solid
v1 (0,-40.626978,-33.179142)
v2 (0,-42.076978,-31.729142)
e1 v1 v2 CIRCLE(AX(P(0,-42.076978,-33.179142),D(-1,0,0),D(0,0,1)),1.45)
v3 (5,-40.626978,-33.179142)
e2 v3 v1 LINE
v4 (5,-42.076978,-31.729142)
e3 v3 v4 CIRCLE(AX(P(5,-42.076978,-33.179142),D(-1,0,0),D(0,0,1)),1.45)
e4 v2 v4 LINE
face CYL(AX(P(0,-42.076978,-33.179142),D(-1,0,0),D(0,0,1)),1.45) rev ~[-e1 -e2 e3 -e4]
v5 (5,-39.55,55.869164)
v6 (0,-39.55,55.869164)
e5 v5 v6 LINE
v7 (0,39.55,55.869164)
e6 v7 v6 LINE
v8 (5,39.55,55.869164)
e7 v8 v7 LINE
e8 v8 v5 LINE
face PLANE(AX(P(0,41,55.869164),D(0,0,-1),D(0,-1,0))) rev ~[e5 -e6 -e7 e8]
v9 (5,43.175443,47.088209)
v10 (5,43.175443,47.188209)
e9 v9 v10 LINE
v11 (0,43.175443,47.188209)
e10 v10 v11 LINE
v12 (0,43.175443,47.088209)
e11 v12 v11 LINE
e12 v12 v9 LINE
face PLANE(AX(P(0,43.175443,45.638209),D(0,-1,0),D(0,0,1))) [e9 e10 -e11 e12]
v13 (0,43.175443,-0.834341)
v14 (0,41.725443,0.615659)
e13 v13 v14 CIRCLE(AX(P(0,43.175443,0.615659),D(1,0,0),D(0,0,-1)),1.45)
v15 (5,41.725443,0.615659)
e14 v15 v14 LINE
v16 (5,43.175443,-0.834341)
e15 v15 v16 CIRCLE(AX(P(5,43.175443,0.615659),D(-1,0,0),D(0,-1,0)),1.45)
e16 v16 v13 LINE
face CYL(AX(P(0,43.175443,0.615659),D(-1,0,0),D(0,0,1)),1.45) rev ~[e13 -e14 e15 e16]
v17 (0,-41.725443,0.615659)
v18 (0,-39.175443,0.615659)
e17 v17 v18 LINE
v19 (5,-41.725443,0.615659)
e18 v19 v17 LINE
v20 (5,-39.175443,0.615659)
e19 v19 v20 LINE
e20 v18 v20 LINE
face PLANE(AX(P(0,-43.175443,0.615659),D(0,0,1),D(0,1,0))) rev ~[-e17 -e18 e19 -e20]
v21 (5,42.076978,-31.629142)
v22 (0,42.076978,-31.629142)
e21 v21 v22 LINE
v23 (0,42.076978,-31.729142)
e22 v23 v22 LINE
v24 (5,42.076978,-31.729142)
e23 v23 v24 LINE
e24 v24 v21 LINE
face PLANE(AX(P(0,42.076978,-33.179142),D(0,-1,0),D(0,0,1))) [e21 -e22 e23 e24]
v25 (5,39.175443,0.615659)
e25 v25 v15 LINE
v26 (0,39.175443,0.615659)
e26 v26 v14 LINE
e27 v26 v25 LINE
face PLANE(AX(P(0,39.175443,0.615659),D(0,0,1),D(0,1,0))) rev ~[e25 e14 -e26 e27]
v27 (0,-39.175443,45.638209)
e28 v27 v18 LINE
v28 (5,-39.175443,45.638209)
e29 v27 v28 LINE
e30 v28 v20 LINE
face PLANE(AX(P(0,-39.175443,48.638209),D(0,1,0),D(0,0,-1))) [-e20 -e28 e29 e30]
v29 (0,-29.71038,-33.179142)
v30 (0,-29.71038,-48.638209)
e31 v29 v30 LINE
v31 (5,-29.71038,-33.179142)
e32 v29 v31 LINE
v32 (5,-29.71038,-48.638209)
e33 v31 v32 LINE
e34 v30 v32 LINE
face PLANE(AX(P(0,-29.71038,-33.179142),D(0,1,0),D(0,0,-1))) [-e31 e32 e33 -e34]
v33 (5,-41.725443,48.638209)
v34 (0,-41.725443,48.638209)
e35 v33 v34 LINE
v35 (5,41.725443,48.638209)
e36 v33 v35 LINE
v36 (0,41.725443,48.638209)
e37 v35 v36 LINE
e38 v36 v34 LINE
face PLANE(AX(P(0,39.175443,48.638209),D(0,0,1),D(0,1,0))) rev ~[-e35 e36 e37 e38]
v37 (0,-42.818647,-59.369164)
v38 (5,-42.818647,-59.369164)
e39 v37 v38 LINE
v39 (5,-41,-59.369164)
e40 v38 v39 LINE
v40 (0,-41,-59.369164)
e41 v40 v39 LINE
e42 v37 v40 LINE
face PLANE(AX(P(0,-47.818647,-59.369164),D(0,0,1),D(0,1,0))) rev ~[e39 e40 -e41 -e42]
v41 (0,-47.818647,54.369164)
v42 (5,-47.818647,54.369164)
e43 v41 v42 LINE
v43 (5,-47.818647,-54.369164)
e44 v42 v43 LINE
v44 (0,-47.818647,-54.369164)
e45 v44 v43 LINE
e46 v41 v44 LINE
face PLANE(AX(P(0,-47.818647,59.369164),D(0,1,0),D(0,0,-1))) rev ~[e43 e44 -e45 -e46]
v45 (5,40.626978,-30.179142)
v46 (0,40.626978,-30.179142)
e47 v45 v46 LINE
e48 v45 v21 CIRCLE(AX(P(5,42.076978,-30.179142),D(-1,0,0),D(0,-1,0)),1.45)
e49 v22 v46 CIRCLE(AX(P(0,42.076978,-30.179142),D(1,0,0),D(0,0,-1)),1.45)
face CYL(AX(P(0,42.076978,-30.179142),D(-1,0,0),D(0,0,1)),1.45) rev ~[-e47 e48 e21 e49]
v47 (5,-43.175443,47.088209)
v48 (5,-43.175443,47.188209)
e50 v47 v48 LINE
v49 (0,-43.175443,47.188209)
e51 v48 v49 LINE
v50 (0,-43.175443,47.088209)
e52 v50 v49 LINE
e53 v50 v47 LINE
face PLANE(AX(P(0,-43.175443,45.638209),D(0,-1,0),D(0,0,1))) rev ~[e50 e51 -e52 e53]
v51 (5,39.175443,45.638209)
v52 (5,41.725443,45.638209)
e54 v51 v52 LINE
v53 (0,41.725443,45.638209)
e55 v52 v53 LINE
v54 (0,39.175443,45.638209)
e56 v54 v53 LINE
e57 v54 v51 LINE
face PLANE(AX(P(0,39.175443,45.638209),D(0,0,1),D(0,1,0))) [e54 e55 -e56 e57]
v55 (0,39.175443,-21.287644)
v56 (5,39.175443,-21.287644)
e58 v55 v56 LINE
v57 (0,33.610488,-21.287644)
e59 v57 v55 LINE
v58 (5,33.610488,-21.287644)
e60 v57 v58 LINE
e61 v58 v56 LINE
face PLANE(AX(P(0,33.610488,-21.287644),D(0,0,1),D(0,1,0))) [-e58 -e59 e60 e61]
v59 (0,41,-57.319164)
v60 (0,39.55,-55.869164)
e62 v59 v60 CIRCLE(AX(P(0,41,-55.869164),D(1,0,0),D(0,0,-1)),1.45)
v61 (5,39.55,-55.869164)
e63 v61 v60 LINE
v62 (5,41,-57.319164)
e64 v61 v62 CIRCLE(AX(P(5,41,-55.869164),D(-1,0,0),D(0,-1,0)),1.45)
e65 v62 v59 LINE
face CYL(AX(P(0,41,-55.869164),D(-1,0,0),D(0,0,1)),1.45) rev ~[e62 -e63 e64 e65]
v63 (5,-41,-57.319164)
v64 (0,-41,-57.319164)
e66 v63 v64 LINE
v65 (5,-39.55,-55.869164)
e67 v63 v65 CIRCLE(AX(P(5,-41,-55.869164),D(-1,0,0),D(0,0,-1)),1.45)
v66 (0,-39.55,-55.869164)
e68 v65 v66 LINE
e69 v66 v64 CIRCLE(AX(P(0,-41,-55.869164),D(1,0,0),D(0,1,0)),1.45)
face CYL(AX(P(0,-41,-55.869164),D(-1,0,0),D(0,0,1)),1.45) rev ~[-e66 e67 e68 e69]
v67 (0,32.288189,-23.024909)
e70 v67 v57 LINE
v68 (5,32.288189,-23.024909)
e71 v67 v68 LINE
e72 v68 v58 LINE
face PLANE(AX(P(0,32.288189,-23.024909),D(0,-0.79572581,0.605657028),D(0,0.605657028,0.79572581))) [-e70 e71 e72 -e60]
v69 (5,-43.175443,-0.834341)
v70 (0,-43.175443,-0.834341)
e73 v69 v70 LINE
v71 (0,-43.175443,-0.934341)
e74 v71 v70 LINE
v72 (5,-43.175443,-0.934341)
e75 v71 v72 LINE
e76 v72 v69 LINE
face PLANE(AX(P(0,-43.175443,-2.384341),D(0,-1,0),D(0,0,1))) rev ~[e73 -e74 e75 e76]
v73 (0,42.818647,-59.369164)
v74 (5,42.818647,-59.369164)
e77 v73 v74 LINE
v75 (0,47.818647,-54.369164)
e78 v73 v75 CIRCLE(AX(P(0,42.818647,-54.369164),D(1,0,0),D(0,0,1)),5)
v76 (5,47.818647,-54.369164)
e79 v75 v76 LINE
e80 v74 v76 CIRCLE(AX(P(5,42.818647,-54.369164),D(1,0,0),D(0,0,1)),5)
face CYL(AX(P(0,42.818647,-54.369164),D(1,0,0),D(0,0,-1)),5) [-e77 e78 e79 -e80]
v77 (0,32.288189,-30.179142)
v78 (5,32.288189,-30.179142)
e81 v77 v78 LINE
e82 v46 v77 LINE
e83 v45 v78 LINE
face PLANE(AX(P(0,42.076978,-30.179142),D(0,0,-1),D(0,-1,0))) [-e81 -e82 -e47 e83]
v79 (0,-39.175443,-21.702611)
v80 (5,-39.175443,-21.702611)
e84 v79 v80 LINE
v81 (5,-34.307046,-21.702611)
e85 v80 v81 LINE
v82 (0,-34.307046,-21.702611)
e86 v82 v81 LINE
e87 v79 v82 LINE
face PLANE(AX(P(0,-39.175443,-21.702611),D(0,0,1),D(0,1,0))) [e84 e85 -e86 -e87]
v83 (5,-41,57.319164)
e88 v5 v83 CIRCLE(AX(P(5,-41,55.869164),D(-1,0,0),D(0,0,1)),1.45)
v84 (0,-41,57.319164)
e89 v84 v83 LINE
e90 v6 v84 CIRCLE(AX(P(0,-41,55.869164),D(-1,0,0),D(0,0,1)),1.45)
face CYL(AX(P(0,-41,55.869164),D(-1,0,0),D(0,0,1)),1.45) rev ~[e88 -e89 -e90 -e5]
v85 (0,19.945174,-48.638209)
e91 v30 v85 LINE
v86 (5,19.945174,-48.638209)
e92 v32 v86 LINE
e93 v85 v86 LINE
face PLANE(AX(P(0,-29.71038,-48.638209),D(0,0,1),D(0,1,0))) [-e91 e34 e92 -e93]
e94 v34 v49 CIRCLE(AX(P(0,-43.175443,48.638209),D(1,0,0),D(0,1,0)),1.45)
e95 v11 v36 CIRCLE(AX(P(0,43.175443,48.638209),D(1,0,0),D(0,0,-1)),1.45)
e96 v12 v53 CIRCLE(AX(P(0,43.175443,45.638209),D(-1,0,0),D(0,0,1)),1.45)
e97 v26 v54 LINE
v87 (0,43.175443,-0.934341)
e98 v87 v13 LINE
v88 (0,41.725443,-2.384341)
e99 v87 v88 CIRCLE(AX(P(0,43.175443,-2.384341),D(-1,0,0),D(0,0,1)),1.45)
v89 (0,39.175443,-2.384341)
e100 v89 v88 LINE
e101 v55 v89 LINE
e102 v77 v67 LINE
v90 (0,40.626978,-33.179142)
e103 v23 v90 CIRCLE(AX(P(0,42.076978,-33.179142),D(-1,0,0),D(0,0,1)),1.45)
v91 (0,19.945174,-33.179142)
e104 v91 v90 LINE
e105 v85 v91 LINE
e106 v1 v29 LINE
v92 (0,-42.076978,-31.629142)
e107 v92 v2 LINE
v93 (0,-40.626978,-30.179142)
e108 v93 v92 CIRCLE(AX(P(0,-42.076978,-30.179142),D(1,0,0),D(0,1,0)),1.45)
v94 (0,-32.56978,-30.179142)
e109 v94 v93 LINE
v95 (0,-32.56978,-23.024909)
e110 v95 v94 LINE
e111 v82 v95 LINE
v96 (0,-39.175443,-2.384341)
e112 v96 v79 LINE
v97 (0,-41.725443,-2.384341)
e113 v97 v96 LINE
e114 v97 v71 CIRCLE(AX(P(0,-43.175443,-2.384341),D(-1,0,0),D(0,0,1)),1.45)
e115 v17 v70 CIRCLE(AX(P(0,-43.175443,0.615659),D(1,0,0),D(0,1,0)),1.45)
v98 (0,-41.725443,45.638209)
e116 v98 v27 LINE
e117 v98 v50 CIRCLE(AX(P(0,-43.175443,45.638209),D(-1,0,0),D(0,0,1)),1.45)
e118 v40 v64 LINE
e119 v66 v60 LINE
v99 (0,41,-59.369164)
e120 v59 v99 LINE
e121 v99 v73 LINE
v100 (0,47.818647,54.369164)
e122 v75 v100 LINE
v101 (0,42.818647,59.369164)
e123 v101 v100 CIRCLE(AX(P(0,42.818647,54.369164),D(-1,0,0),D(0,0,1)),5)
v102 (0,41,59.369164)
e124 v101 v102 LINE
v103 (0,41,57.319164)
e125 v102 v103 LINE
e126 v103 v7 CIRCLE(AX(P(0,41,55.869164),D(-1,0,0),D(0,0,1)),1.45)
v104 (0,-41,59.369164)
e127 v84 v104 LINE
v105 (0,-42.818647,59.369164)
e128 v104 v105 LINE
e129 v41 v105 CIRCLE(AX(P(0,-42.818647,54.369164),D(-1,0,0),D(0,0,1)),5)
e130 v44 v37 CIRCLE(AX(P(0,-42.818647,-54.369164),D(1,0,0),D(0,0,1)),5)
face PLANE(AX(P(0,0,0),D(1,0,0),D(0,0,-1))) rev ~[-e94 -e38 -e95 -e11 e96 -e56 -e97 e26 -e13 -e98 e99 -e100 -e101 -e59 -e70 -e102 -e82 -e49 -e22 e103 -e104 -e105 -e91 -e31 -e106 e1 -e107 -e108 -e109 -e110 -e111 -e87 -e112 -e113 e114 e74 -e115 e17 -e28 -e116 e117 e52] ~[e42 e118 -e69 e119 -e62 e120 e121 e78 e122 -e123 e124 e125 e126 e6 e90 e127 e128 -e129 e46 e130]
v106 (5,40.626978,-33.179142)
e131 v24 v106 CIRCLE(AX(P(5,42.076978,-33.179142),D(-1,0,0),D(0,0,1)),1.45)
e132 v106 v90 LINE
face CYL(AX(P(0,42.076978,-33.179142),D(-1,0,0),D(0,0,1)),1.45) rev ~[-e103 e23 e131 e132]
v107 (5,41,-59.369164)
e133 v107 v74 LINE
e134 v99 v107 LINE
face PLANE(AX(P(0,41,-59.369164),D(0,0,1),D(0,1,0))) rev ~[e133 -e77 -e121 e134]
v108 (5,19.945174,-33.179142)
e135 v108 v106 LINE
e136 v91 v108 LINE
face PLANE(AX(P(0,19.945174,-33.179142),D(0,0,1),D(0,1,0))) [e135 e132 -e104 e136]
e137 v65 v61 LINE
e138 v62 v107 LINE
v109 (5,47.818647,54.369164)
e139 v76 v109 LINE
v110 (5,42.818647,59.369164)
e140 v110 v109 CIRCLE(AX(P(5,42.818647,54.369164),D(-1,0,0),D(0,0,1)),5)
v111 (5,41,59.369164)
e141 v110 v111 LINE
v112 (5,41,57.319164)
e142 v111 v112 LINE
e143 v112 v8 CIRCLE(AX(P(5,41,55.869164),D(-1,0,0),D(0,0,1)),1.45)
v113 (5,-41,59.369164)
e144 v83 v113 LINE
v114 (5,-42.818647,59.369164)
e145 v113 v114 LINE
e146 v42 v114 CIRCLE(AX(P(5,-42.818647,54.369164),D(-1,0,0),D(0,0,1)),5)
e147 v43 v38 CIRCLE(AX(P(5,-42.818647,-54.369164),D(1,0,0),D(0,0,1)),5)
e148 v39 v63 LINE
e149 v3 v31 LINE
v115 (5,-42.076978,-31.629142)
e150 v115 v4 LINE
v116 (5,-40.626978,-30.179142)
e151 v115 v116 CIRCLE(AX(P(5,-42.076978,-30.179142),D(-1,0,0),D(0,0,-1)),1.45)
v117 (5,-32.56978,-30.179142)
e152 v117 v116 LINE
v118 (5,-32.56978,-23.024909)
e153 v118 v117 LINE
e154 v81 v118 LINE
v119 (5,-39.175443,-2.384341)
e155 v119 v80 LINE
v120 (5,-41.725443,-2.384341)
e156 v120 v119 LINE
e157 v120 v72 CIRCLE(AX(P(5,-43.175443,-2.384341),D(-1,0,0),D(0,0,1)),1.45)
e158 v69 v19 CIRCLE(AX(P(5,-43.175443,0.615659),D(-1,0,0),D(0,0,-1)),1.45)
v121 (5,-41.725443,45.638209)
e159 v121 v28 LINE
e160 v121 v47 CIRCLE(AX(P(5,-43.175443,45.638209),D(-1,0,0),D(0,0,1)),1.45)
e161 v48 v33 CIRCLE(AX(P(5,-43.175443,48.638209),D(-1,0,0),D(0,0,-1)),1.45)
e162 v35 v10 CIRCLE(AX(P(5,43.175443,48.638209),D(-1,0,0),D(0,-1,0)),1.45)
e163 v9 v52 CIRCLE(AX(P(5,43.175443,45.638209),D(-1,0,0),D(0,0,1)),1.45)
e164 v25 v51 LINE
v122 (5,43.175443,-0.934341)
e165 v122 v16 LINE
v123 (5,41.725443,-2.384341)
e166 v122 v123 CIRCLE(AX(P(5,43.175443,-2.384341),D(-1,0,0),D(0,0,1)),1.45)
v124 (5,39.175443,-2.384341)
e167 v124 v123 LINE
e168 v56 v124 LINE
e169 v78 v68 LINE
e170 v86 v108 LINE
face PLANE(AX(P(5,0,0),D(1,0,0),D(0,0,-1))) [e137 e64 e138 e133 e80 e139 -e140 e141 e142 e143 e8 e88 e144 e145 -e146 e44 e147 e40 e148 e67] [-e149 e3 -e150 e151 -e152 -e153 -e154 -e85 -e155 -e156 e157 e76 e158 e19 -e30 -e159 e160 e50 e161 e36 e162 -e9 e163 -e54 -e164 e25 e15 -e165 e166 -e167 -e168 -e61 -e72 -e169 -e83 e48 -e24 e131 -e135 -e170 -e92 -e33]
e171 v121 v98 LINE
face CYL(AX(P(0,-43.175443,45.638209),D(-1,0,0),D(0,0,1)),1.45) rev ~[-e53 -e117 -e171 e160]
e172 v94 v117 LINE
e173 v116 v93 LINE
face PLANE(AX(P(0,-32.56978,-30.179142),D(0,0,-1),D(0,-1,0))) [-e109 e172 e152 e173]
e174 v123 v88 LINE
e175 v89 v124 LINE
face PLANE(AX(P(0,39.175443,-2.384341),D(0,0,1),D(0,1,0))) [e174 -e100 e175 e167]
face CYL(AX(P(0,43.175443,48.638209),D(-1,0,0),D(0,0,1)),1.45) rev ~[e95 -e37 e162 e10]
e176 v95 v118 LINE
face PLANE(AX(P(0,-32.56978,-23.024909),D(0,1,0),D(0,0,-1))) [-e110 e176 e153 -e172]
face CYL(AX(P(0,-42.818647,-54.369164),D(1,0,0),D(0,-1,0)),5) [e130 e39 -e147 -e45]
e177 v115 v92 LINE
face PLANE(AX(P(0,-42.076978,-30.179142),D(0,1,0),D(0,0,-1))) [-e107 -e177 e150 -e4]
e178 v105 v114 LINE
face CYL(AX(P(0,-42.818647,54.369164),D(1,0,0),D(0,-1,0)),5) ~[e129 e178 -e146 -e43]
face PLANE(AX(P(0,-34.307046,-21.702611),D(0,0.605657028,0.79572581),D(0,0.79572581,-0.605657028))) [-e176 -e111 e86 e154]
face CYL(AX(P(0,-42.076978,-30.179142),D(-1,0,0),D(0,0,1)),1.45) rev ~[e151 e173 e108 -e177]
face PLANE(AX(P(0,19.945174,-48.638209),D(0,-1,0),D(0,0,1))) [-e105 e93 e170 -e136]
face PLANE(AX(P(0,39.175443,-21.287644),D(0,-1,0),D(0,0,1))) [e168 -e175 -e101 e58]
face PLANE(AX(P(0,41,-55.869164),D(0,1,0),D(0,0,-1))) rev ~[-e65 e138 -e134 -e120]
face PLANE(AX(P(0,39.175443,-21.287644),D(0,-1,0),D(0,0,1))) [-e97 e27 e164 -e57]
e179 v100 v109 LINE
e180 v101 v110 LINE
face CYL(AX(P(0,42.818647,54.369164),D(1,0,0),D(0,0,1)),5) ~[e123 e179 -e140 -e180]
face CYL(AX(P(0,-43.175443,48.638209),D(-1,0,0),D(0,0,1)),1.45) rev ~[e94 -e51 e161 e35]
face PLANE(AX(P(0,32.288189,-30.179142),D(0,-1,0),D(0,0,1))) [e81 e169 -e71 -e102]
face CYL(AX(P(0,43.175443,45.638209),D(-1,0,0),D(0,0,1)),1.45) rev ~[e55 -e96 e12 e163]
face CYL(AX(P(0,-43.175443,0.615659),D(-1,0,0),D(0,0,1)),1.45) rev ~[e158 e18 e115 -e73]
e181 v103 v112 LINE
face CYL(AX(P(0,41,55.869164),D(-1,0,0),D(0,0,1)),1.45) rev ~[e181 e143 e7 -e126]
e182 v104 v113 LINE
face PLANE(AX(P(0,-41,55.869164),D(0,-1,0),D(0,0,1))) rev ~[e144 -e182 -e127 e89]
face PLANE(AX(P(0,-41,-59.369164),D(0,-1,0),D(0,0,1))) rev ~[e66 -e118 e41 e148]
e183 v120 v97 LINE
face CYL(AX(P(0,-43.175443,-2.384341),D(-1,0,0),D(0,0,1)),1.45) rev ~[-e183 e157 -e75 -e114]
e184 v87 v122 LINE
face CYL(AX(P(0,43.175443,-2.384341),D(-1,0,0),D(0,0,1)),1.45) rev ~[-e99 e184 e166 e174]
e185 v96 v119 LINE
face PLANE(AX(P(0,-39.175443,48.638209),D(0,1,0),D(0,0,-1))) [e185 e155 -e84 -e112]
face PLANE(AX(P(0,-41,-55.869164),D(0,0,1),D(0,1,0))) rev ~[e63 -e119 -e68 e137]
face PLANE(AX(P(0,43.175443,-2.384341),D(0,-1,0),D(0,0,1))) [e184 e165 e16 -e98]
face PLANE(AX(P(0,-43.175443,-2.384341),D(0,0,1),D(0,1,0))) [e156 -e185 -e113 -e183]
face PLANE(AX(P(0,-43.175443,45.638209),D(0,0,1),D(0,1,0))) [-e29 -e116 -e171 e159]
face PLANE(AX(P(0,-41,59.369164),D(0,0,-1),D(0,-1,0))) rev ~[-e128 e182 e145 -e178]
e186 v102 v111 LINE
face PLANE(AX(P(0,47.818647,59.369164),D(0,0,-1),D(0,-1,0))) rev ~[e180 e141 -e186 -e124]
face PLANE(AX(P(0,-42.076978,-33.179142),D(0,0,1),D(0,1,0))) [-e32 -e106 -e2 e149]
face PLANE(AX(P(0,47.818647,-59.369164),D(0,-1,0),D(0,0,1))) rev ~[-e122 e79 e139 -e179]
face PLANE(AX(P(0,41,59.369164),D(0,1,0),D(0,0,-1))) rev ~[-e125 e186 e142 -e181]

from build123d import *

# Parameters (mm, degrees)
BOSS_EXTRUDE1_DEPTH = 5
FILLET1_R           = 5
CUT_EXTRUDE1_REACH  = 7
SKETCH2_W           = 3
SKETCH2_H           = 4
CUT_EXTRUDE2_REACH  = 7
SKETCH3_R           = 1.45


with BuildPart() as part:
    # Sketch1 → Boss-Extrude1 (new body)
    with BuildSketch(Plane(origin=(0, 0, 0), x_dir=(0, 0, -1), z_dir=(1, 0, 0))):
        Polygon((-59.36916415, -47.818646587), (0, -47.818646587), (59.36916415, -47.818646587), (59.36916415, -41), (55.86916415, -41), (55.86916415, 41), (59.36916415, 41), (59.36916415, 47.818646587), (-59.36916415, 47.818646587), (-59.36916415, 41), (-55.86916415, 41), (-55.86916415, -41), (-59.36916415, -41), align=None)
        Polygon((21.702610628, -39.175443067), (21.702610628, -34.307045578), (23.024909313, -32.569779859), (30.179141539, -32.569779859), (30.179141539, -42.076978078), (33.179141539, -42.076978078), (33.179141539, -29.710380013), (48.63820865, -29.710380013), (48.63820865, 19.945173818), (33.179141539, 19.945173818), (33.179141539, 42.076978078), (30.179141539, 42.076978078), (30.179141539, 32.288188968), (23.024909313, 32.288188968), (21.287643594, 33.610487654), (21.287643594, 39.175443067), (-48.63820865, 39.175443067), (-48.63820865, -39.175443067), align=None, mode=Mode.SUBTRACT)
    extrude(amount=BOSS_EXTRUDE1_DEPTH)

    # Fillet1
    fillet1_edges = [part.edges().sort_by_distance(p)[0] for p in [
        (2.5, -47.818646587, -59.36916415),
        (2.5, -47.818646587, 59.36916415),
        (2.5, 47.818646587, 59.36916415),
        (2.5, 47.818646587, -59.36916415),
    ]]
    fillet(fillet1_edges, radius=FILLET1_R)

    # Sketch2 → Cut-Extrude1 (cut, up to next)
    with BuildSketch(Plane.ZY, mode=Mode.PRIVATE) as cut_extrude1_sk1:
        with Locations((47.13820865, 41.175443067)):
            Rectangle(SKETCH2_W, SKETCH2_H)
    cut_extrude1_tool1 = extrude(cut_extrude1_sk1.sketch, amount=-CUT_EXTRUDE1_REACH, mode=Mode.PRIVATE) & part.part
    add(cut_extrude1_tool1.solids().sort_by_distance((0, 41.175443, 47.138209))[0], mode=Mode.SUBTRACT)
    # Sketch2 → Cut-Extrude1 (cut, up to next)
    with BuildSketch(Plane.ZY, mode=Mode.PRIVATE) as cut_extrude1_sk2:
        with Locations((47.13820865, -41.175443067)):
            Rectangle(SKETCH2_W, SKETCH2_H)
    cut_extrude1_tool2 = extrude(cut_extrude1_sk2.sketch, amount=-CUT_EXTRUDE1_REACH, mode=Mode.PRIVATE) & part.part
    add(cut_extrude1_tool2.solids().sort_by_distance((0, -41.175443, 47.138209))[0], mode=Mode.SUBTRACT)
    # Sketch2 → Cut-Extrude1 (cut, up to next)
    with BuildSketch(Plane.ZY, mode=Mode.PRIVATE) as cut_extrude1_sk3:
        with Locations((-0.884341096, -41.175443067)):
            Rectangle(SKETCH2_W, SKETCH2_H)
    cut_extrude1_tool3 = extrude(cut_extrude1_sk3.sketch, amount=-CUT_EXTRUDE1_REACH, mode=Mode.PRIVATE) & part.part
    add(cut_extrude1_tool3.solids().sort_by_distance((0, -41.175443, -0.884341))[0], mode=Mode.SUBTRACT)
    # Sketch2 → Cut-Extrude1 (cut, up to next)
    with BuildSketch(Plane.ZY, mode=Mode.PRIVATE) as cut_extrude1_sk4:
        with Locations((-0.884341096, 41.175443067)):
            Rectangle(SKETCH2_W, SKETCH2_H)
    cut_extrude1_tool4 = extrude(cut_extrude1_sk4.sketch, amount=-CUT_EXTRUDE1_REACH, mode=Mode.PRIVATE) & part.part
    add(cut_extrude1_tool4.solids().sort_by_distance((0, 41.175443, -0.884341))[0], mode=Mode.SUBTRACT)

    # Sketch3 → Cut-Extrude2 (cut, up to next)
    with BuildSketch(Plane.ZY, mode=Mode.PRIVATE) as cut_extrude2_sk1:
        with Locations((-33.179141539, 42.076978078)):
            Circle(SKETCH3_R)
    cut_extrude2_tool1 = extrude(cut_extrude2_sk1.sketch, amount=-CUT_EXTRUDE2_REACH, mode=Mode.PRIVATE) & part.part
    add(cut_extrude2_tool1.solids().sort_by_distance((0, 42.076978, -33.179142))[0], mode=Mode.SUBTRACT)
    # Sketch3 → Cut-Extrude2 (cut, up to next)
    with BuildSketch(Plane.ZY, mode=Mode.PRIVATE) as cut_extrude2_sk2:
        with Locations((-30.179141539, 42.076978078)):
            Circle(SKETCH3_R)
    cut_extrude2_tool2 = extrude(cut_extrude2_sk2.sketch, amount=-CUT_EXTRUDE2_REACH, mode=Mode.PRIVATE) & part.part
    add(cut_extrude2_tool2.solids().sort_by_distance((0, 42.076978, -30.179142))[0], mode=Mode.SUBTRACT)
    # Sketch3 → Cut-Extrude2 (cut, up to next)
    with BuildSketch(Plane.ZY, mode=Mode.PRIVATE) as cut_extrude2_sk3:
        with Locations((-2.384341096, 43.175443067)):
            Circle(SKETCH3_R)
    cut_extrude2_tool3 = extrude(cut_extrude2_sk3.sketch, amount=-CUT_EXTRUDE2_REACH, mode=Mode.PRIVATE) & part.part
    add(cut_extrude2_tool3.solids().sort_by_distance((0, 43.175443, -2.384341))[0], mode=Mode.SUBTRACT)
    # Sketch3 → Cut-Extrude2 (cut, up to next)
    with BuildSketch(Plane.ZY, mode=Mode.PRIVATE) as cut_extrude2_sk4:
        with Locations((0.615658904, 43.175443067)):
            Circle(SKETCH3_R)
    cut_extrude2_tool4 = extrude(cut_extrude2_sk4.sketch, amount=-CUT_EXTRUDE2_REACH, mode=Mode.PRIVATE) & part.part
    add(cut_extrude2_tool4.solids().sort_by_distance((0, 43.175443, 0.615659))[0], mode=Mode.SUBTRACT)
    # Sketch3 → Cut-Extrude2 (cut, up to next)
    with BuildSketch(Plane.ZY, mode=Mode.PRIVATE) as cut_extrude2_sk5:
        with Locations((-55.86916415, 41)):
            Circle(SKETCH3_R)
    cut_extrude2_tool5 = extrude(cut_extrude2_sk5.sketch, amount=-CUT_EXTRUDE2_REACH, mode=Mode.PRIVATE) & part.part
    add(cut_extrude2_tool5.solids().sort_by_distance((0, 41, -55.869164))[0], mode=Mode.SUBTRACT)
    # Sketch3 → Cut-Extrude2 (cut, up to next)
    with BuildSketch(Plane.ZY, mode=Mode.PRIVATE) as cut_extrude2_sk6:
        with Locations((45.63820865, 43.175443067)):
            Circle(SKETCH3_R)
    cut_extrude2_tool6 = extrude(cut_extrude2_sk6.sketch, amount=-CUT_EXTRUDE2_REACH, mode=Mode.PRIVATE) & part.part
    add(cut_extrude2_tool6.solids().sort_by_distance((0, 43.175443, 45.638209))[0], mode=Mode.SUBTRACT)
    # Sketch3 → Cut-Extrude2 (cut, up to next)
    with BuildSketch(Plane.ZY, mode=Mode.PRIVATE) as cut_extrude2_sk7:
        with Locations((48.63820865, 43.175443067)):
            Circle(SKETCH3_R)
    cut_extrude2_tool7 = extrude(cut_extrude2_sk7.sketch, amount=-CUT_EXTRUDE2_REACH, mode=Mode.PRIVATE) & part.part
    add(cut_extrude2_tool7.solids().sort_by_distance((0, 43.175443, 48.638209))[0], mode=Mode.SUBTRACT)
    # Sketch3 → Cut-Extrude2 (cut, up to next)
    with BuildSketch(Plane.ZY, mode=Mode.PRIVATE) as cut_extrude2_sk8:
        with Locations((48.63820865, -43.175443067)):
            Circle(SKETCH3_R)
    cut_extrude2_tool8 = extrude(cut_extrude2_sk8.sketch, amount=-CUT_EXTRUDE2_REACH, mode=Mode.PRIVATE) & part.part
    add(cut_extrude2_tool8.solids().sort_by_distance((0, -43.175443, 48.638209))[0], mode=Mode.SUBTRACT)
    # Sketch3 → Cut-Extrude2 (cut, up to next)
    with BuildSketch(Plane.ZY, mode=Mode.PRIVATE) as cut_extrude2_sk9:
        with Locations((45.63820865, -43.175443067)):
            Circle(SKETCH3_R)
    cut_extrude2_tool9 = extrude(cut_extrude2_sk9.sketch, amount=-CUT_EXTRUDE2_REACH, mode=Mode.PRIVATE) & part.part
    add(cut_extrude2_tool9.solids().sort_by_distance((0, -43.175443, 45.638209))[0], mode=Mode.SUBTRACT)
    # Sketch3 → Cut-Extrude2 (cut, up to next)
    with BuildSketch(Plane.ZY, mode=Mode.PRIVATE) as cut_extrude2_sk10:
        with Locations((0.615658904, -43.175443067)):
            Circle(SKETCH3_R)
    cut_extrude2_tool10 = extrude(cut_extrude2_sk10.sketch, amount=-CUT_EXTRUDE2_REACH, mode=Mode.PRIVATE) & part.part
    add(cut_extrude2_tool10.solids().sort_by_distance((0, -43.175443, 0.615659))[0], mode=Mode.SUBTRACT)
    # Sketch3 → Cut-Extrude2 (cut, up to next)
    with BuildSketch(Plane.ZY, mode=Mode.PRIVATE) as cut_extrude2_sk11:
        with Locations((-2.384341096, -43.175443067)):
            Circle(SKETCH3_R)
    cut_extrude2_tool11 = extrude(cut_extrude2_sk11.sketch, amount=-CUT_EXTRUDE2_REACH, mode=Mode.PRIVATE) & part.part
    add(cut_extrude2_tool11.solids().sort_by_distance((0, -43.175443, -2.384341))[0], mode=Mode.SUBTRACT)
    # Sketch3 → Cut-Extrude2 (cut, up to next)
    with BuildSketch(Plane.ZY, mode=Mode.PRIVATE) as cut_extrude2_sk12:
        with Locations((-30.179141539, -42.076978078)):
            Circle(SKETCH3_R)
    cut_extrude2_tool12 = extrude(cut_extrude2_sk12.sketch, amount=-CUT_EXTRUDE2_REACH, mode=Mode.PRIVATE) & part.part
    add(cut_extrude2_tool12.solids().sort_by_distance((0, -42.076978, -30.179142))[0], mode=Mode.SUBTRACT)
    # Sketch3 → Cut-Extrude2 (cut, up to next)
    with BuildSketch(Plane.ZY, mode=Mode.PRIVATE) as cut_extrude2_sk13:
        with Locations((-33.179141539, -42.076978078)):
            Circle(SKETCH3_R)
    cut_extrude2_tool13 = extrude(cut_extrude2_sk13.sketch, amount=-CUT_EXTRUDE2_REACH, mode=Mode.PRIVATE) & part.part
    add(cut_extrude2_tool13.solids().sort_by_distance((0, -42.076978, -33.179142))[0], mode=Mode.SUBTRACT)
    # Sketch3 → Cut-Extrude2 (cut, up to next)
    with BuildSketch(Plane.ZY, mode=Mode.PRIVATE) as cut_extrude2_sk14:
        with Locations((-55.86916415, -41)):
            Circle(SKETCH3_R)
    cut_extrude2_tool14 = extrude(cut_extrude2_sk14.sketch, amount=-CUT_EXTRUDE2_REACH, mode=Mode.PRIVATE) & part.part
    add(cut_extrude2_tool14.solids().sort_by_distance((0, -41, -55.869164))[0], mode=Mode.SUBTRACT)
    # Sketch3 → Cut-Extrude2 (cut, up to next)
    with BuildSketch(Plane.ZY, mode=Mode.PRIVATE) as cut_extrude2_sk15:
        with Locations((55.86916415, -41)):
            Circle(SKETCH3_R)
    cut_extrude2_tool15 = extrude(cut_extrude2_sk15.sketch, amount=-CUT_EXTRUDE2_REACH, mode=Mode.PRIVATE) & part.part
    add(cut_extrude2_tool15.solids().sort_by_distance((0, -41, 55.869164))[0], mode=Mode.SUBTRACT)
    # Sketch3 → Cut-Extrude2 (cut, up to next)
    with BuildSketch(Plane.ZY, mode=Mode.PRIVATE) as cut_extrude2_sk16:
        with Locations((55.86916415, 41)):
            Circle(SKETCH3_R)
    cut_extrude2_tool16 = extrude(cut_extrude2_sk16.sketch, amount=-CUT_EXTRUDE2_REACH, mode=Mode.PRIVATE) & part.part
    add(cut_extrude2_tool16.solids().sort_by_distance((0, 41, 55.869164))[0], mode=Mode.SUBTRACT)


solid = part.part
